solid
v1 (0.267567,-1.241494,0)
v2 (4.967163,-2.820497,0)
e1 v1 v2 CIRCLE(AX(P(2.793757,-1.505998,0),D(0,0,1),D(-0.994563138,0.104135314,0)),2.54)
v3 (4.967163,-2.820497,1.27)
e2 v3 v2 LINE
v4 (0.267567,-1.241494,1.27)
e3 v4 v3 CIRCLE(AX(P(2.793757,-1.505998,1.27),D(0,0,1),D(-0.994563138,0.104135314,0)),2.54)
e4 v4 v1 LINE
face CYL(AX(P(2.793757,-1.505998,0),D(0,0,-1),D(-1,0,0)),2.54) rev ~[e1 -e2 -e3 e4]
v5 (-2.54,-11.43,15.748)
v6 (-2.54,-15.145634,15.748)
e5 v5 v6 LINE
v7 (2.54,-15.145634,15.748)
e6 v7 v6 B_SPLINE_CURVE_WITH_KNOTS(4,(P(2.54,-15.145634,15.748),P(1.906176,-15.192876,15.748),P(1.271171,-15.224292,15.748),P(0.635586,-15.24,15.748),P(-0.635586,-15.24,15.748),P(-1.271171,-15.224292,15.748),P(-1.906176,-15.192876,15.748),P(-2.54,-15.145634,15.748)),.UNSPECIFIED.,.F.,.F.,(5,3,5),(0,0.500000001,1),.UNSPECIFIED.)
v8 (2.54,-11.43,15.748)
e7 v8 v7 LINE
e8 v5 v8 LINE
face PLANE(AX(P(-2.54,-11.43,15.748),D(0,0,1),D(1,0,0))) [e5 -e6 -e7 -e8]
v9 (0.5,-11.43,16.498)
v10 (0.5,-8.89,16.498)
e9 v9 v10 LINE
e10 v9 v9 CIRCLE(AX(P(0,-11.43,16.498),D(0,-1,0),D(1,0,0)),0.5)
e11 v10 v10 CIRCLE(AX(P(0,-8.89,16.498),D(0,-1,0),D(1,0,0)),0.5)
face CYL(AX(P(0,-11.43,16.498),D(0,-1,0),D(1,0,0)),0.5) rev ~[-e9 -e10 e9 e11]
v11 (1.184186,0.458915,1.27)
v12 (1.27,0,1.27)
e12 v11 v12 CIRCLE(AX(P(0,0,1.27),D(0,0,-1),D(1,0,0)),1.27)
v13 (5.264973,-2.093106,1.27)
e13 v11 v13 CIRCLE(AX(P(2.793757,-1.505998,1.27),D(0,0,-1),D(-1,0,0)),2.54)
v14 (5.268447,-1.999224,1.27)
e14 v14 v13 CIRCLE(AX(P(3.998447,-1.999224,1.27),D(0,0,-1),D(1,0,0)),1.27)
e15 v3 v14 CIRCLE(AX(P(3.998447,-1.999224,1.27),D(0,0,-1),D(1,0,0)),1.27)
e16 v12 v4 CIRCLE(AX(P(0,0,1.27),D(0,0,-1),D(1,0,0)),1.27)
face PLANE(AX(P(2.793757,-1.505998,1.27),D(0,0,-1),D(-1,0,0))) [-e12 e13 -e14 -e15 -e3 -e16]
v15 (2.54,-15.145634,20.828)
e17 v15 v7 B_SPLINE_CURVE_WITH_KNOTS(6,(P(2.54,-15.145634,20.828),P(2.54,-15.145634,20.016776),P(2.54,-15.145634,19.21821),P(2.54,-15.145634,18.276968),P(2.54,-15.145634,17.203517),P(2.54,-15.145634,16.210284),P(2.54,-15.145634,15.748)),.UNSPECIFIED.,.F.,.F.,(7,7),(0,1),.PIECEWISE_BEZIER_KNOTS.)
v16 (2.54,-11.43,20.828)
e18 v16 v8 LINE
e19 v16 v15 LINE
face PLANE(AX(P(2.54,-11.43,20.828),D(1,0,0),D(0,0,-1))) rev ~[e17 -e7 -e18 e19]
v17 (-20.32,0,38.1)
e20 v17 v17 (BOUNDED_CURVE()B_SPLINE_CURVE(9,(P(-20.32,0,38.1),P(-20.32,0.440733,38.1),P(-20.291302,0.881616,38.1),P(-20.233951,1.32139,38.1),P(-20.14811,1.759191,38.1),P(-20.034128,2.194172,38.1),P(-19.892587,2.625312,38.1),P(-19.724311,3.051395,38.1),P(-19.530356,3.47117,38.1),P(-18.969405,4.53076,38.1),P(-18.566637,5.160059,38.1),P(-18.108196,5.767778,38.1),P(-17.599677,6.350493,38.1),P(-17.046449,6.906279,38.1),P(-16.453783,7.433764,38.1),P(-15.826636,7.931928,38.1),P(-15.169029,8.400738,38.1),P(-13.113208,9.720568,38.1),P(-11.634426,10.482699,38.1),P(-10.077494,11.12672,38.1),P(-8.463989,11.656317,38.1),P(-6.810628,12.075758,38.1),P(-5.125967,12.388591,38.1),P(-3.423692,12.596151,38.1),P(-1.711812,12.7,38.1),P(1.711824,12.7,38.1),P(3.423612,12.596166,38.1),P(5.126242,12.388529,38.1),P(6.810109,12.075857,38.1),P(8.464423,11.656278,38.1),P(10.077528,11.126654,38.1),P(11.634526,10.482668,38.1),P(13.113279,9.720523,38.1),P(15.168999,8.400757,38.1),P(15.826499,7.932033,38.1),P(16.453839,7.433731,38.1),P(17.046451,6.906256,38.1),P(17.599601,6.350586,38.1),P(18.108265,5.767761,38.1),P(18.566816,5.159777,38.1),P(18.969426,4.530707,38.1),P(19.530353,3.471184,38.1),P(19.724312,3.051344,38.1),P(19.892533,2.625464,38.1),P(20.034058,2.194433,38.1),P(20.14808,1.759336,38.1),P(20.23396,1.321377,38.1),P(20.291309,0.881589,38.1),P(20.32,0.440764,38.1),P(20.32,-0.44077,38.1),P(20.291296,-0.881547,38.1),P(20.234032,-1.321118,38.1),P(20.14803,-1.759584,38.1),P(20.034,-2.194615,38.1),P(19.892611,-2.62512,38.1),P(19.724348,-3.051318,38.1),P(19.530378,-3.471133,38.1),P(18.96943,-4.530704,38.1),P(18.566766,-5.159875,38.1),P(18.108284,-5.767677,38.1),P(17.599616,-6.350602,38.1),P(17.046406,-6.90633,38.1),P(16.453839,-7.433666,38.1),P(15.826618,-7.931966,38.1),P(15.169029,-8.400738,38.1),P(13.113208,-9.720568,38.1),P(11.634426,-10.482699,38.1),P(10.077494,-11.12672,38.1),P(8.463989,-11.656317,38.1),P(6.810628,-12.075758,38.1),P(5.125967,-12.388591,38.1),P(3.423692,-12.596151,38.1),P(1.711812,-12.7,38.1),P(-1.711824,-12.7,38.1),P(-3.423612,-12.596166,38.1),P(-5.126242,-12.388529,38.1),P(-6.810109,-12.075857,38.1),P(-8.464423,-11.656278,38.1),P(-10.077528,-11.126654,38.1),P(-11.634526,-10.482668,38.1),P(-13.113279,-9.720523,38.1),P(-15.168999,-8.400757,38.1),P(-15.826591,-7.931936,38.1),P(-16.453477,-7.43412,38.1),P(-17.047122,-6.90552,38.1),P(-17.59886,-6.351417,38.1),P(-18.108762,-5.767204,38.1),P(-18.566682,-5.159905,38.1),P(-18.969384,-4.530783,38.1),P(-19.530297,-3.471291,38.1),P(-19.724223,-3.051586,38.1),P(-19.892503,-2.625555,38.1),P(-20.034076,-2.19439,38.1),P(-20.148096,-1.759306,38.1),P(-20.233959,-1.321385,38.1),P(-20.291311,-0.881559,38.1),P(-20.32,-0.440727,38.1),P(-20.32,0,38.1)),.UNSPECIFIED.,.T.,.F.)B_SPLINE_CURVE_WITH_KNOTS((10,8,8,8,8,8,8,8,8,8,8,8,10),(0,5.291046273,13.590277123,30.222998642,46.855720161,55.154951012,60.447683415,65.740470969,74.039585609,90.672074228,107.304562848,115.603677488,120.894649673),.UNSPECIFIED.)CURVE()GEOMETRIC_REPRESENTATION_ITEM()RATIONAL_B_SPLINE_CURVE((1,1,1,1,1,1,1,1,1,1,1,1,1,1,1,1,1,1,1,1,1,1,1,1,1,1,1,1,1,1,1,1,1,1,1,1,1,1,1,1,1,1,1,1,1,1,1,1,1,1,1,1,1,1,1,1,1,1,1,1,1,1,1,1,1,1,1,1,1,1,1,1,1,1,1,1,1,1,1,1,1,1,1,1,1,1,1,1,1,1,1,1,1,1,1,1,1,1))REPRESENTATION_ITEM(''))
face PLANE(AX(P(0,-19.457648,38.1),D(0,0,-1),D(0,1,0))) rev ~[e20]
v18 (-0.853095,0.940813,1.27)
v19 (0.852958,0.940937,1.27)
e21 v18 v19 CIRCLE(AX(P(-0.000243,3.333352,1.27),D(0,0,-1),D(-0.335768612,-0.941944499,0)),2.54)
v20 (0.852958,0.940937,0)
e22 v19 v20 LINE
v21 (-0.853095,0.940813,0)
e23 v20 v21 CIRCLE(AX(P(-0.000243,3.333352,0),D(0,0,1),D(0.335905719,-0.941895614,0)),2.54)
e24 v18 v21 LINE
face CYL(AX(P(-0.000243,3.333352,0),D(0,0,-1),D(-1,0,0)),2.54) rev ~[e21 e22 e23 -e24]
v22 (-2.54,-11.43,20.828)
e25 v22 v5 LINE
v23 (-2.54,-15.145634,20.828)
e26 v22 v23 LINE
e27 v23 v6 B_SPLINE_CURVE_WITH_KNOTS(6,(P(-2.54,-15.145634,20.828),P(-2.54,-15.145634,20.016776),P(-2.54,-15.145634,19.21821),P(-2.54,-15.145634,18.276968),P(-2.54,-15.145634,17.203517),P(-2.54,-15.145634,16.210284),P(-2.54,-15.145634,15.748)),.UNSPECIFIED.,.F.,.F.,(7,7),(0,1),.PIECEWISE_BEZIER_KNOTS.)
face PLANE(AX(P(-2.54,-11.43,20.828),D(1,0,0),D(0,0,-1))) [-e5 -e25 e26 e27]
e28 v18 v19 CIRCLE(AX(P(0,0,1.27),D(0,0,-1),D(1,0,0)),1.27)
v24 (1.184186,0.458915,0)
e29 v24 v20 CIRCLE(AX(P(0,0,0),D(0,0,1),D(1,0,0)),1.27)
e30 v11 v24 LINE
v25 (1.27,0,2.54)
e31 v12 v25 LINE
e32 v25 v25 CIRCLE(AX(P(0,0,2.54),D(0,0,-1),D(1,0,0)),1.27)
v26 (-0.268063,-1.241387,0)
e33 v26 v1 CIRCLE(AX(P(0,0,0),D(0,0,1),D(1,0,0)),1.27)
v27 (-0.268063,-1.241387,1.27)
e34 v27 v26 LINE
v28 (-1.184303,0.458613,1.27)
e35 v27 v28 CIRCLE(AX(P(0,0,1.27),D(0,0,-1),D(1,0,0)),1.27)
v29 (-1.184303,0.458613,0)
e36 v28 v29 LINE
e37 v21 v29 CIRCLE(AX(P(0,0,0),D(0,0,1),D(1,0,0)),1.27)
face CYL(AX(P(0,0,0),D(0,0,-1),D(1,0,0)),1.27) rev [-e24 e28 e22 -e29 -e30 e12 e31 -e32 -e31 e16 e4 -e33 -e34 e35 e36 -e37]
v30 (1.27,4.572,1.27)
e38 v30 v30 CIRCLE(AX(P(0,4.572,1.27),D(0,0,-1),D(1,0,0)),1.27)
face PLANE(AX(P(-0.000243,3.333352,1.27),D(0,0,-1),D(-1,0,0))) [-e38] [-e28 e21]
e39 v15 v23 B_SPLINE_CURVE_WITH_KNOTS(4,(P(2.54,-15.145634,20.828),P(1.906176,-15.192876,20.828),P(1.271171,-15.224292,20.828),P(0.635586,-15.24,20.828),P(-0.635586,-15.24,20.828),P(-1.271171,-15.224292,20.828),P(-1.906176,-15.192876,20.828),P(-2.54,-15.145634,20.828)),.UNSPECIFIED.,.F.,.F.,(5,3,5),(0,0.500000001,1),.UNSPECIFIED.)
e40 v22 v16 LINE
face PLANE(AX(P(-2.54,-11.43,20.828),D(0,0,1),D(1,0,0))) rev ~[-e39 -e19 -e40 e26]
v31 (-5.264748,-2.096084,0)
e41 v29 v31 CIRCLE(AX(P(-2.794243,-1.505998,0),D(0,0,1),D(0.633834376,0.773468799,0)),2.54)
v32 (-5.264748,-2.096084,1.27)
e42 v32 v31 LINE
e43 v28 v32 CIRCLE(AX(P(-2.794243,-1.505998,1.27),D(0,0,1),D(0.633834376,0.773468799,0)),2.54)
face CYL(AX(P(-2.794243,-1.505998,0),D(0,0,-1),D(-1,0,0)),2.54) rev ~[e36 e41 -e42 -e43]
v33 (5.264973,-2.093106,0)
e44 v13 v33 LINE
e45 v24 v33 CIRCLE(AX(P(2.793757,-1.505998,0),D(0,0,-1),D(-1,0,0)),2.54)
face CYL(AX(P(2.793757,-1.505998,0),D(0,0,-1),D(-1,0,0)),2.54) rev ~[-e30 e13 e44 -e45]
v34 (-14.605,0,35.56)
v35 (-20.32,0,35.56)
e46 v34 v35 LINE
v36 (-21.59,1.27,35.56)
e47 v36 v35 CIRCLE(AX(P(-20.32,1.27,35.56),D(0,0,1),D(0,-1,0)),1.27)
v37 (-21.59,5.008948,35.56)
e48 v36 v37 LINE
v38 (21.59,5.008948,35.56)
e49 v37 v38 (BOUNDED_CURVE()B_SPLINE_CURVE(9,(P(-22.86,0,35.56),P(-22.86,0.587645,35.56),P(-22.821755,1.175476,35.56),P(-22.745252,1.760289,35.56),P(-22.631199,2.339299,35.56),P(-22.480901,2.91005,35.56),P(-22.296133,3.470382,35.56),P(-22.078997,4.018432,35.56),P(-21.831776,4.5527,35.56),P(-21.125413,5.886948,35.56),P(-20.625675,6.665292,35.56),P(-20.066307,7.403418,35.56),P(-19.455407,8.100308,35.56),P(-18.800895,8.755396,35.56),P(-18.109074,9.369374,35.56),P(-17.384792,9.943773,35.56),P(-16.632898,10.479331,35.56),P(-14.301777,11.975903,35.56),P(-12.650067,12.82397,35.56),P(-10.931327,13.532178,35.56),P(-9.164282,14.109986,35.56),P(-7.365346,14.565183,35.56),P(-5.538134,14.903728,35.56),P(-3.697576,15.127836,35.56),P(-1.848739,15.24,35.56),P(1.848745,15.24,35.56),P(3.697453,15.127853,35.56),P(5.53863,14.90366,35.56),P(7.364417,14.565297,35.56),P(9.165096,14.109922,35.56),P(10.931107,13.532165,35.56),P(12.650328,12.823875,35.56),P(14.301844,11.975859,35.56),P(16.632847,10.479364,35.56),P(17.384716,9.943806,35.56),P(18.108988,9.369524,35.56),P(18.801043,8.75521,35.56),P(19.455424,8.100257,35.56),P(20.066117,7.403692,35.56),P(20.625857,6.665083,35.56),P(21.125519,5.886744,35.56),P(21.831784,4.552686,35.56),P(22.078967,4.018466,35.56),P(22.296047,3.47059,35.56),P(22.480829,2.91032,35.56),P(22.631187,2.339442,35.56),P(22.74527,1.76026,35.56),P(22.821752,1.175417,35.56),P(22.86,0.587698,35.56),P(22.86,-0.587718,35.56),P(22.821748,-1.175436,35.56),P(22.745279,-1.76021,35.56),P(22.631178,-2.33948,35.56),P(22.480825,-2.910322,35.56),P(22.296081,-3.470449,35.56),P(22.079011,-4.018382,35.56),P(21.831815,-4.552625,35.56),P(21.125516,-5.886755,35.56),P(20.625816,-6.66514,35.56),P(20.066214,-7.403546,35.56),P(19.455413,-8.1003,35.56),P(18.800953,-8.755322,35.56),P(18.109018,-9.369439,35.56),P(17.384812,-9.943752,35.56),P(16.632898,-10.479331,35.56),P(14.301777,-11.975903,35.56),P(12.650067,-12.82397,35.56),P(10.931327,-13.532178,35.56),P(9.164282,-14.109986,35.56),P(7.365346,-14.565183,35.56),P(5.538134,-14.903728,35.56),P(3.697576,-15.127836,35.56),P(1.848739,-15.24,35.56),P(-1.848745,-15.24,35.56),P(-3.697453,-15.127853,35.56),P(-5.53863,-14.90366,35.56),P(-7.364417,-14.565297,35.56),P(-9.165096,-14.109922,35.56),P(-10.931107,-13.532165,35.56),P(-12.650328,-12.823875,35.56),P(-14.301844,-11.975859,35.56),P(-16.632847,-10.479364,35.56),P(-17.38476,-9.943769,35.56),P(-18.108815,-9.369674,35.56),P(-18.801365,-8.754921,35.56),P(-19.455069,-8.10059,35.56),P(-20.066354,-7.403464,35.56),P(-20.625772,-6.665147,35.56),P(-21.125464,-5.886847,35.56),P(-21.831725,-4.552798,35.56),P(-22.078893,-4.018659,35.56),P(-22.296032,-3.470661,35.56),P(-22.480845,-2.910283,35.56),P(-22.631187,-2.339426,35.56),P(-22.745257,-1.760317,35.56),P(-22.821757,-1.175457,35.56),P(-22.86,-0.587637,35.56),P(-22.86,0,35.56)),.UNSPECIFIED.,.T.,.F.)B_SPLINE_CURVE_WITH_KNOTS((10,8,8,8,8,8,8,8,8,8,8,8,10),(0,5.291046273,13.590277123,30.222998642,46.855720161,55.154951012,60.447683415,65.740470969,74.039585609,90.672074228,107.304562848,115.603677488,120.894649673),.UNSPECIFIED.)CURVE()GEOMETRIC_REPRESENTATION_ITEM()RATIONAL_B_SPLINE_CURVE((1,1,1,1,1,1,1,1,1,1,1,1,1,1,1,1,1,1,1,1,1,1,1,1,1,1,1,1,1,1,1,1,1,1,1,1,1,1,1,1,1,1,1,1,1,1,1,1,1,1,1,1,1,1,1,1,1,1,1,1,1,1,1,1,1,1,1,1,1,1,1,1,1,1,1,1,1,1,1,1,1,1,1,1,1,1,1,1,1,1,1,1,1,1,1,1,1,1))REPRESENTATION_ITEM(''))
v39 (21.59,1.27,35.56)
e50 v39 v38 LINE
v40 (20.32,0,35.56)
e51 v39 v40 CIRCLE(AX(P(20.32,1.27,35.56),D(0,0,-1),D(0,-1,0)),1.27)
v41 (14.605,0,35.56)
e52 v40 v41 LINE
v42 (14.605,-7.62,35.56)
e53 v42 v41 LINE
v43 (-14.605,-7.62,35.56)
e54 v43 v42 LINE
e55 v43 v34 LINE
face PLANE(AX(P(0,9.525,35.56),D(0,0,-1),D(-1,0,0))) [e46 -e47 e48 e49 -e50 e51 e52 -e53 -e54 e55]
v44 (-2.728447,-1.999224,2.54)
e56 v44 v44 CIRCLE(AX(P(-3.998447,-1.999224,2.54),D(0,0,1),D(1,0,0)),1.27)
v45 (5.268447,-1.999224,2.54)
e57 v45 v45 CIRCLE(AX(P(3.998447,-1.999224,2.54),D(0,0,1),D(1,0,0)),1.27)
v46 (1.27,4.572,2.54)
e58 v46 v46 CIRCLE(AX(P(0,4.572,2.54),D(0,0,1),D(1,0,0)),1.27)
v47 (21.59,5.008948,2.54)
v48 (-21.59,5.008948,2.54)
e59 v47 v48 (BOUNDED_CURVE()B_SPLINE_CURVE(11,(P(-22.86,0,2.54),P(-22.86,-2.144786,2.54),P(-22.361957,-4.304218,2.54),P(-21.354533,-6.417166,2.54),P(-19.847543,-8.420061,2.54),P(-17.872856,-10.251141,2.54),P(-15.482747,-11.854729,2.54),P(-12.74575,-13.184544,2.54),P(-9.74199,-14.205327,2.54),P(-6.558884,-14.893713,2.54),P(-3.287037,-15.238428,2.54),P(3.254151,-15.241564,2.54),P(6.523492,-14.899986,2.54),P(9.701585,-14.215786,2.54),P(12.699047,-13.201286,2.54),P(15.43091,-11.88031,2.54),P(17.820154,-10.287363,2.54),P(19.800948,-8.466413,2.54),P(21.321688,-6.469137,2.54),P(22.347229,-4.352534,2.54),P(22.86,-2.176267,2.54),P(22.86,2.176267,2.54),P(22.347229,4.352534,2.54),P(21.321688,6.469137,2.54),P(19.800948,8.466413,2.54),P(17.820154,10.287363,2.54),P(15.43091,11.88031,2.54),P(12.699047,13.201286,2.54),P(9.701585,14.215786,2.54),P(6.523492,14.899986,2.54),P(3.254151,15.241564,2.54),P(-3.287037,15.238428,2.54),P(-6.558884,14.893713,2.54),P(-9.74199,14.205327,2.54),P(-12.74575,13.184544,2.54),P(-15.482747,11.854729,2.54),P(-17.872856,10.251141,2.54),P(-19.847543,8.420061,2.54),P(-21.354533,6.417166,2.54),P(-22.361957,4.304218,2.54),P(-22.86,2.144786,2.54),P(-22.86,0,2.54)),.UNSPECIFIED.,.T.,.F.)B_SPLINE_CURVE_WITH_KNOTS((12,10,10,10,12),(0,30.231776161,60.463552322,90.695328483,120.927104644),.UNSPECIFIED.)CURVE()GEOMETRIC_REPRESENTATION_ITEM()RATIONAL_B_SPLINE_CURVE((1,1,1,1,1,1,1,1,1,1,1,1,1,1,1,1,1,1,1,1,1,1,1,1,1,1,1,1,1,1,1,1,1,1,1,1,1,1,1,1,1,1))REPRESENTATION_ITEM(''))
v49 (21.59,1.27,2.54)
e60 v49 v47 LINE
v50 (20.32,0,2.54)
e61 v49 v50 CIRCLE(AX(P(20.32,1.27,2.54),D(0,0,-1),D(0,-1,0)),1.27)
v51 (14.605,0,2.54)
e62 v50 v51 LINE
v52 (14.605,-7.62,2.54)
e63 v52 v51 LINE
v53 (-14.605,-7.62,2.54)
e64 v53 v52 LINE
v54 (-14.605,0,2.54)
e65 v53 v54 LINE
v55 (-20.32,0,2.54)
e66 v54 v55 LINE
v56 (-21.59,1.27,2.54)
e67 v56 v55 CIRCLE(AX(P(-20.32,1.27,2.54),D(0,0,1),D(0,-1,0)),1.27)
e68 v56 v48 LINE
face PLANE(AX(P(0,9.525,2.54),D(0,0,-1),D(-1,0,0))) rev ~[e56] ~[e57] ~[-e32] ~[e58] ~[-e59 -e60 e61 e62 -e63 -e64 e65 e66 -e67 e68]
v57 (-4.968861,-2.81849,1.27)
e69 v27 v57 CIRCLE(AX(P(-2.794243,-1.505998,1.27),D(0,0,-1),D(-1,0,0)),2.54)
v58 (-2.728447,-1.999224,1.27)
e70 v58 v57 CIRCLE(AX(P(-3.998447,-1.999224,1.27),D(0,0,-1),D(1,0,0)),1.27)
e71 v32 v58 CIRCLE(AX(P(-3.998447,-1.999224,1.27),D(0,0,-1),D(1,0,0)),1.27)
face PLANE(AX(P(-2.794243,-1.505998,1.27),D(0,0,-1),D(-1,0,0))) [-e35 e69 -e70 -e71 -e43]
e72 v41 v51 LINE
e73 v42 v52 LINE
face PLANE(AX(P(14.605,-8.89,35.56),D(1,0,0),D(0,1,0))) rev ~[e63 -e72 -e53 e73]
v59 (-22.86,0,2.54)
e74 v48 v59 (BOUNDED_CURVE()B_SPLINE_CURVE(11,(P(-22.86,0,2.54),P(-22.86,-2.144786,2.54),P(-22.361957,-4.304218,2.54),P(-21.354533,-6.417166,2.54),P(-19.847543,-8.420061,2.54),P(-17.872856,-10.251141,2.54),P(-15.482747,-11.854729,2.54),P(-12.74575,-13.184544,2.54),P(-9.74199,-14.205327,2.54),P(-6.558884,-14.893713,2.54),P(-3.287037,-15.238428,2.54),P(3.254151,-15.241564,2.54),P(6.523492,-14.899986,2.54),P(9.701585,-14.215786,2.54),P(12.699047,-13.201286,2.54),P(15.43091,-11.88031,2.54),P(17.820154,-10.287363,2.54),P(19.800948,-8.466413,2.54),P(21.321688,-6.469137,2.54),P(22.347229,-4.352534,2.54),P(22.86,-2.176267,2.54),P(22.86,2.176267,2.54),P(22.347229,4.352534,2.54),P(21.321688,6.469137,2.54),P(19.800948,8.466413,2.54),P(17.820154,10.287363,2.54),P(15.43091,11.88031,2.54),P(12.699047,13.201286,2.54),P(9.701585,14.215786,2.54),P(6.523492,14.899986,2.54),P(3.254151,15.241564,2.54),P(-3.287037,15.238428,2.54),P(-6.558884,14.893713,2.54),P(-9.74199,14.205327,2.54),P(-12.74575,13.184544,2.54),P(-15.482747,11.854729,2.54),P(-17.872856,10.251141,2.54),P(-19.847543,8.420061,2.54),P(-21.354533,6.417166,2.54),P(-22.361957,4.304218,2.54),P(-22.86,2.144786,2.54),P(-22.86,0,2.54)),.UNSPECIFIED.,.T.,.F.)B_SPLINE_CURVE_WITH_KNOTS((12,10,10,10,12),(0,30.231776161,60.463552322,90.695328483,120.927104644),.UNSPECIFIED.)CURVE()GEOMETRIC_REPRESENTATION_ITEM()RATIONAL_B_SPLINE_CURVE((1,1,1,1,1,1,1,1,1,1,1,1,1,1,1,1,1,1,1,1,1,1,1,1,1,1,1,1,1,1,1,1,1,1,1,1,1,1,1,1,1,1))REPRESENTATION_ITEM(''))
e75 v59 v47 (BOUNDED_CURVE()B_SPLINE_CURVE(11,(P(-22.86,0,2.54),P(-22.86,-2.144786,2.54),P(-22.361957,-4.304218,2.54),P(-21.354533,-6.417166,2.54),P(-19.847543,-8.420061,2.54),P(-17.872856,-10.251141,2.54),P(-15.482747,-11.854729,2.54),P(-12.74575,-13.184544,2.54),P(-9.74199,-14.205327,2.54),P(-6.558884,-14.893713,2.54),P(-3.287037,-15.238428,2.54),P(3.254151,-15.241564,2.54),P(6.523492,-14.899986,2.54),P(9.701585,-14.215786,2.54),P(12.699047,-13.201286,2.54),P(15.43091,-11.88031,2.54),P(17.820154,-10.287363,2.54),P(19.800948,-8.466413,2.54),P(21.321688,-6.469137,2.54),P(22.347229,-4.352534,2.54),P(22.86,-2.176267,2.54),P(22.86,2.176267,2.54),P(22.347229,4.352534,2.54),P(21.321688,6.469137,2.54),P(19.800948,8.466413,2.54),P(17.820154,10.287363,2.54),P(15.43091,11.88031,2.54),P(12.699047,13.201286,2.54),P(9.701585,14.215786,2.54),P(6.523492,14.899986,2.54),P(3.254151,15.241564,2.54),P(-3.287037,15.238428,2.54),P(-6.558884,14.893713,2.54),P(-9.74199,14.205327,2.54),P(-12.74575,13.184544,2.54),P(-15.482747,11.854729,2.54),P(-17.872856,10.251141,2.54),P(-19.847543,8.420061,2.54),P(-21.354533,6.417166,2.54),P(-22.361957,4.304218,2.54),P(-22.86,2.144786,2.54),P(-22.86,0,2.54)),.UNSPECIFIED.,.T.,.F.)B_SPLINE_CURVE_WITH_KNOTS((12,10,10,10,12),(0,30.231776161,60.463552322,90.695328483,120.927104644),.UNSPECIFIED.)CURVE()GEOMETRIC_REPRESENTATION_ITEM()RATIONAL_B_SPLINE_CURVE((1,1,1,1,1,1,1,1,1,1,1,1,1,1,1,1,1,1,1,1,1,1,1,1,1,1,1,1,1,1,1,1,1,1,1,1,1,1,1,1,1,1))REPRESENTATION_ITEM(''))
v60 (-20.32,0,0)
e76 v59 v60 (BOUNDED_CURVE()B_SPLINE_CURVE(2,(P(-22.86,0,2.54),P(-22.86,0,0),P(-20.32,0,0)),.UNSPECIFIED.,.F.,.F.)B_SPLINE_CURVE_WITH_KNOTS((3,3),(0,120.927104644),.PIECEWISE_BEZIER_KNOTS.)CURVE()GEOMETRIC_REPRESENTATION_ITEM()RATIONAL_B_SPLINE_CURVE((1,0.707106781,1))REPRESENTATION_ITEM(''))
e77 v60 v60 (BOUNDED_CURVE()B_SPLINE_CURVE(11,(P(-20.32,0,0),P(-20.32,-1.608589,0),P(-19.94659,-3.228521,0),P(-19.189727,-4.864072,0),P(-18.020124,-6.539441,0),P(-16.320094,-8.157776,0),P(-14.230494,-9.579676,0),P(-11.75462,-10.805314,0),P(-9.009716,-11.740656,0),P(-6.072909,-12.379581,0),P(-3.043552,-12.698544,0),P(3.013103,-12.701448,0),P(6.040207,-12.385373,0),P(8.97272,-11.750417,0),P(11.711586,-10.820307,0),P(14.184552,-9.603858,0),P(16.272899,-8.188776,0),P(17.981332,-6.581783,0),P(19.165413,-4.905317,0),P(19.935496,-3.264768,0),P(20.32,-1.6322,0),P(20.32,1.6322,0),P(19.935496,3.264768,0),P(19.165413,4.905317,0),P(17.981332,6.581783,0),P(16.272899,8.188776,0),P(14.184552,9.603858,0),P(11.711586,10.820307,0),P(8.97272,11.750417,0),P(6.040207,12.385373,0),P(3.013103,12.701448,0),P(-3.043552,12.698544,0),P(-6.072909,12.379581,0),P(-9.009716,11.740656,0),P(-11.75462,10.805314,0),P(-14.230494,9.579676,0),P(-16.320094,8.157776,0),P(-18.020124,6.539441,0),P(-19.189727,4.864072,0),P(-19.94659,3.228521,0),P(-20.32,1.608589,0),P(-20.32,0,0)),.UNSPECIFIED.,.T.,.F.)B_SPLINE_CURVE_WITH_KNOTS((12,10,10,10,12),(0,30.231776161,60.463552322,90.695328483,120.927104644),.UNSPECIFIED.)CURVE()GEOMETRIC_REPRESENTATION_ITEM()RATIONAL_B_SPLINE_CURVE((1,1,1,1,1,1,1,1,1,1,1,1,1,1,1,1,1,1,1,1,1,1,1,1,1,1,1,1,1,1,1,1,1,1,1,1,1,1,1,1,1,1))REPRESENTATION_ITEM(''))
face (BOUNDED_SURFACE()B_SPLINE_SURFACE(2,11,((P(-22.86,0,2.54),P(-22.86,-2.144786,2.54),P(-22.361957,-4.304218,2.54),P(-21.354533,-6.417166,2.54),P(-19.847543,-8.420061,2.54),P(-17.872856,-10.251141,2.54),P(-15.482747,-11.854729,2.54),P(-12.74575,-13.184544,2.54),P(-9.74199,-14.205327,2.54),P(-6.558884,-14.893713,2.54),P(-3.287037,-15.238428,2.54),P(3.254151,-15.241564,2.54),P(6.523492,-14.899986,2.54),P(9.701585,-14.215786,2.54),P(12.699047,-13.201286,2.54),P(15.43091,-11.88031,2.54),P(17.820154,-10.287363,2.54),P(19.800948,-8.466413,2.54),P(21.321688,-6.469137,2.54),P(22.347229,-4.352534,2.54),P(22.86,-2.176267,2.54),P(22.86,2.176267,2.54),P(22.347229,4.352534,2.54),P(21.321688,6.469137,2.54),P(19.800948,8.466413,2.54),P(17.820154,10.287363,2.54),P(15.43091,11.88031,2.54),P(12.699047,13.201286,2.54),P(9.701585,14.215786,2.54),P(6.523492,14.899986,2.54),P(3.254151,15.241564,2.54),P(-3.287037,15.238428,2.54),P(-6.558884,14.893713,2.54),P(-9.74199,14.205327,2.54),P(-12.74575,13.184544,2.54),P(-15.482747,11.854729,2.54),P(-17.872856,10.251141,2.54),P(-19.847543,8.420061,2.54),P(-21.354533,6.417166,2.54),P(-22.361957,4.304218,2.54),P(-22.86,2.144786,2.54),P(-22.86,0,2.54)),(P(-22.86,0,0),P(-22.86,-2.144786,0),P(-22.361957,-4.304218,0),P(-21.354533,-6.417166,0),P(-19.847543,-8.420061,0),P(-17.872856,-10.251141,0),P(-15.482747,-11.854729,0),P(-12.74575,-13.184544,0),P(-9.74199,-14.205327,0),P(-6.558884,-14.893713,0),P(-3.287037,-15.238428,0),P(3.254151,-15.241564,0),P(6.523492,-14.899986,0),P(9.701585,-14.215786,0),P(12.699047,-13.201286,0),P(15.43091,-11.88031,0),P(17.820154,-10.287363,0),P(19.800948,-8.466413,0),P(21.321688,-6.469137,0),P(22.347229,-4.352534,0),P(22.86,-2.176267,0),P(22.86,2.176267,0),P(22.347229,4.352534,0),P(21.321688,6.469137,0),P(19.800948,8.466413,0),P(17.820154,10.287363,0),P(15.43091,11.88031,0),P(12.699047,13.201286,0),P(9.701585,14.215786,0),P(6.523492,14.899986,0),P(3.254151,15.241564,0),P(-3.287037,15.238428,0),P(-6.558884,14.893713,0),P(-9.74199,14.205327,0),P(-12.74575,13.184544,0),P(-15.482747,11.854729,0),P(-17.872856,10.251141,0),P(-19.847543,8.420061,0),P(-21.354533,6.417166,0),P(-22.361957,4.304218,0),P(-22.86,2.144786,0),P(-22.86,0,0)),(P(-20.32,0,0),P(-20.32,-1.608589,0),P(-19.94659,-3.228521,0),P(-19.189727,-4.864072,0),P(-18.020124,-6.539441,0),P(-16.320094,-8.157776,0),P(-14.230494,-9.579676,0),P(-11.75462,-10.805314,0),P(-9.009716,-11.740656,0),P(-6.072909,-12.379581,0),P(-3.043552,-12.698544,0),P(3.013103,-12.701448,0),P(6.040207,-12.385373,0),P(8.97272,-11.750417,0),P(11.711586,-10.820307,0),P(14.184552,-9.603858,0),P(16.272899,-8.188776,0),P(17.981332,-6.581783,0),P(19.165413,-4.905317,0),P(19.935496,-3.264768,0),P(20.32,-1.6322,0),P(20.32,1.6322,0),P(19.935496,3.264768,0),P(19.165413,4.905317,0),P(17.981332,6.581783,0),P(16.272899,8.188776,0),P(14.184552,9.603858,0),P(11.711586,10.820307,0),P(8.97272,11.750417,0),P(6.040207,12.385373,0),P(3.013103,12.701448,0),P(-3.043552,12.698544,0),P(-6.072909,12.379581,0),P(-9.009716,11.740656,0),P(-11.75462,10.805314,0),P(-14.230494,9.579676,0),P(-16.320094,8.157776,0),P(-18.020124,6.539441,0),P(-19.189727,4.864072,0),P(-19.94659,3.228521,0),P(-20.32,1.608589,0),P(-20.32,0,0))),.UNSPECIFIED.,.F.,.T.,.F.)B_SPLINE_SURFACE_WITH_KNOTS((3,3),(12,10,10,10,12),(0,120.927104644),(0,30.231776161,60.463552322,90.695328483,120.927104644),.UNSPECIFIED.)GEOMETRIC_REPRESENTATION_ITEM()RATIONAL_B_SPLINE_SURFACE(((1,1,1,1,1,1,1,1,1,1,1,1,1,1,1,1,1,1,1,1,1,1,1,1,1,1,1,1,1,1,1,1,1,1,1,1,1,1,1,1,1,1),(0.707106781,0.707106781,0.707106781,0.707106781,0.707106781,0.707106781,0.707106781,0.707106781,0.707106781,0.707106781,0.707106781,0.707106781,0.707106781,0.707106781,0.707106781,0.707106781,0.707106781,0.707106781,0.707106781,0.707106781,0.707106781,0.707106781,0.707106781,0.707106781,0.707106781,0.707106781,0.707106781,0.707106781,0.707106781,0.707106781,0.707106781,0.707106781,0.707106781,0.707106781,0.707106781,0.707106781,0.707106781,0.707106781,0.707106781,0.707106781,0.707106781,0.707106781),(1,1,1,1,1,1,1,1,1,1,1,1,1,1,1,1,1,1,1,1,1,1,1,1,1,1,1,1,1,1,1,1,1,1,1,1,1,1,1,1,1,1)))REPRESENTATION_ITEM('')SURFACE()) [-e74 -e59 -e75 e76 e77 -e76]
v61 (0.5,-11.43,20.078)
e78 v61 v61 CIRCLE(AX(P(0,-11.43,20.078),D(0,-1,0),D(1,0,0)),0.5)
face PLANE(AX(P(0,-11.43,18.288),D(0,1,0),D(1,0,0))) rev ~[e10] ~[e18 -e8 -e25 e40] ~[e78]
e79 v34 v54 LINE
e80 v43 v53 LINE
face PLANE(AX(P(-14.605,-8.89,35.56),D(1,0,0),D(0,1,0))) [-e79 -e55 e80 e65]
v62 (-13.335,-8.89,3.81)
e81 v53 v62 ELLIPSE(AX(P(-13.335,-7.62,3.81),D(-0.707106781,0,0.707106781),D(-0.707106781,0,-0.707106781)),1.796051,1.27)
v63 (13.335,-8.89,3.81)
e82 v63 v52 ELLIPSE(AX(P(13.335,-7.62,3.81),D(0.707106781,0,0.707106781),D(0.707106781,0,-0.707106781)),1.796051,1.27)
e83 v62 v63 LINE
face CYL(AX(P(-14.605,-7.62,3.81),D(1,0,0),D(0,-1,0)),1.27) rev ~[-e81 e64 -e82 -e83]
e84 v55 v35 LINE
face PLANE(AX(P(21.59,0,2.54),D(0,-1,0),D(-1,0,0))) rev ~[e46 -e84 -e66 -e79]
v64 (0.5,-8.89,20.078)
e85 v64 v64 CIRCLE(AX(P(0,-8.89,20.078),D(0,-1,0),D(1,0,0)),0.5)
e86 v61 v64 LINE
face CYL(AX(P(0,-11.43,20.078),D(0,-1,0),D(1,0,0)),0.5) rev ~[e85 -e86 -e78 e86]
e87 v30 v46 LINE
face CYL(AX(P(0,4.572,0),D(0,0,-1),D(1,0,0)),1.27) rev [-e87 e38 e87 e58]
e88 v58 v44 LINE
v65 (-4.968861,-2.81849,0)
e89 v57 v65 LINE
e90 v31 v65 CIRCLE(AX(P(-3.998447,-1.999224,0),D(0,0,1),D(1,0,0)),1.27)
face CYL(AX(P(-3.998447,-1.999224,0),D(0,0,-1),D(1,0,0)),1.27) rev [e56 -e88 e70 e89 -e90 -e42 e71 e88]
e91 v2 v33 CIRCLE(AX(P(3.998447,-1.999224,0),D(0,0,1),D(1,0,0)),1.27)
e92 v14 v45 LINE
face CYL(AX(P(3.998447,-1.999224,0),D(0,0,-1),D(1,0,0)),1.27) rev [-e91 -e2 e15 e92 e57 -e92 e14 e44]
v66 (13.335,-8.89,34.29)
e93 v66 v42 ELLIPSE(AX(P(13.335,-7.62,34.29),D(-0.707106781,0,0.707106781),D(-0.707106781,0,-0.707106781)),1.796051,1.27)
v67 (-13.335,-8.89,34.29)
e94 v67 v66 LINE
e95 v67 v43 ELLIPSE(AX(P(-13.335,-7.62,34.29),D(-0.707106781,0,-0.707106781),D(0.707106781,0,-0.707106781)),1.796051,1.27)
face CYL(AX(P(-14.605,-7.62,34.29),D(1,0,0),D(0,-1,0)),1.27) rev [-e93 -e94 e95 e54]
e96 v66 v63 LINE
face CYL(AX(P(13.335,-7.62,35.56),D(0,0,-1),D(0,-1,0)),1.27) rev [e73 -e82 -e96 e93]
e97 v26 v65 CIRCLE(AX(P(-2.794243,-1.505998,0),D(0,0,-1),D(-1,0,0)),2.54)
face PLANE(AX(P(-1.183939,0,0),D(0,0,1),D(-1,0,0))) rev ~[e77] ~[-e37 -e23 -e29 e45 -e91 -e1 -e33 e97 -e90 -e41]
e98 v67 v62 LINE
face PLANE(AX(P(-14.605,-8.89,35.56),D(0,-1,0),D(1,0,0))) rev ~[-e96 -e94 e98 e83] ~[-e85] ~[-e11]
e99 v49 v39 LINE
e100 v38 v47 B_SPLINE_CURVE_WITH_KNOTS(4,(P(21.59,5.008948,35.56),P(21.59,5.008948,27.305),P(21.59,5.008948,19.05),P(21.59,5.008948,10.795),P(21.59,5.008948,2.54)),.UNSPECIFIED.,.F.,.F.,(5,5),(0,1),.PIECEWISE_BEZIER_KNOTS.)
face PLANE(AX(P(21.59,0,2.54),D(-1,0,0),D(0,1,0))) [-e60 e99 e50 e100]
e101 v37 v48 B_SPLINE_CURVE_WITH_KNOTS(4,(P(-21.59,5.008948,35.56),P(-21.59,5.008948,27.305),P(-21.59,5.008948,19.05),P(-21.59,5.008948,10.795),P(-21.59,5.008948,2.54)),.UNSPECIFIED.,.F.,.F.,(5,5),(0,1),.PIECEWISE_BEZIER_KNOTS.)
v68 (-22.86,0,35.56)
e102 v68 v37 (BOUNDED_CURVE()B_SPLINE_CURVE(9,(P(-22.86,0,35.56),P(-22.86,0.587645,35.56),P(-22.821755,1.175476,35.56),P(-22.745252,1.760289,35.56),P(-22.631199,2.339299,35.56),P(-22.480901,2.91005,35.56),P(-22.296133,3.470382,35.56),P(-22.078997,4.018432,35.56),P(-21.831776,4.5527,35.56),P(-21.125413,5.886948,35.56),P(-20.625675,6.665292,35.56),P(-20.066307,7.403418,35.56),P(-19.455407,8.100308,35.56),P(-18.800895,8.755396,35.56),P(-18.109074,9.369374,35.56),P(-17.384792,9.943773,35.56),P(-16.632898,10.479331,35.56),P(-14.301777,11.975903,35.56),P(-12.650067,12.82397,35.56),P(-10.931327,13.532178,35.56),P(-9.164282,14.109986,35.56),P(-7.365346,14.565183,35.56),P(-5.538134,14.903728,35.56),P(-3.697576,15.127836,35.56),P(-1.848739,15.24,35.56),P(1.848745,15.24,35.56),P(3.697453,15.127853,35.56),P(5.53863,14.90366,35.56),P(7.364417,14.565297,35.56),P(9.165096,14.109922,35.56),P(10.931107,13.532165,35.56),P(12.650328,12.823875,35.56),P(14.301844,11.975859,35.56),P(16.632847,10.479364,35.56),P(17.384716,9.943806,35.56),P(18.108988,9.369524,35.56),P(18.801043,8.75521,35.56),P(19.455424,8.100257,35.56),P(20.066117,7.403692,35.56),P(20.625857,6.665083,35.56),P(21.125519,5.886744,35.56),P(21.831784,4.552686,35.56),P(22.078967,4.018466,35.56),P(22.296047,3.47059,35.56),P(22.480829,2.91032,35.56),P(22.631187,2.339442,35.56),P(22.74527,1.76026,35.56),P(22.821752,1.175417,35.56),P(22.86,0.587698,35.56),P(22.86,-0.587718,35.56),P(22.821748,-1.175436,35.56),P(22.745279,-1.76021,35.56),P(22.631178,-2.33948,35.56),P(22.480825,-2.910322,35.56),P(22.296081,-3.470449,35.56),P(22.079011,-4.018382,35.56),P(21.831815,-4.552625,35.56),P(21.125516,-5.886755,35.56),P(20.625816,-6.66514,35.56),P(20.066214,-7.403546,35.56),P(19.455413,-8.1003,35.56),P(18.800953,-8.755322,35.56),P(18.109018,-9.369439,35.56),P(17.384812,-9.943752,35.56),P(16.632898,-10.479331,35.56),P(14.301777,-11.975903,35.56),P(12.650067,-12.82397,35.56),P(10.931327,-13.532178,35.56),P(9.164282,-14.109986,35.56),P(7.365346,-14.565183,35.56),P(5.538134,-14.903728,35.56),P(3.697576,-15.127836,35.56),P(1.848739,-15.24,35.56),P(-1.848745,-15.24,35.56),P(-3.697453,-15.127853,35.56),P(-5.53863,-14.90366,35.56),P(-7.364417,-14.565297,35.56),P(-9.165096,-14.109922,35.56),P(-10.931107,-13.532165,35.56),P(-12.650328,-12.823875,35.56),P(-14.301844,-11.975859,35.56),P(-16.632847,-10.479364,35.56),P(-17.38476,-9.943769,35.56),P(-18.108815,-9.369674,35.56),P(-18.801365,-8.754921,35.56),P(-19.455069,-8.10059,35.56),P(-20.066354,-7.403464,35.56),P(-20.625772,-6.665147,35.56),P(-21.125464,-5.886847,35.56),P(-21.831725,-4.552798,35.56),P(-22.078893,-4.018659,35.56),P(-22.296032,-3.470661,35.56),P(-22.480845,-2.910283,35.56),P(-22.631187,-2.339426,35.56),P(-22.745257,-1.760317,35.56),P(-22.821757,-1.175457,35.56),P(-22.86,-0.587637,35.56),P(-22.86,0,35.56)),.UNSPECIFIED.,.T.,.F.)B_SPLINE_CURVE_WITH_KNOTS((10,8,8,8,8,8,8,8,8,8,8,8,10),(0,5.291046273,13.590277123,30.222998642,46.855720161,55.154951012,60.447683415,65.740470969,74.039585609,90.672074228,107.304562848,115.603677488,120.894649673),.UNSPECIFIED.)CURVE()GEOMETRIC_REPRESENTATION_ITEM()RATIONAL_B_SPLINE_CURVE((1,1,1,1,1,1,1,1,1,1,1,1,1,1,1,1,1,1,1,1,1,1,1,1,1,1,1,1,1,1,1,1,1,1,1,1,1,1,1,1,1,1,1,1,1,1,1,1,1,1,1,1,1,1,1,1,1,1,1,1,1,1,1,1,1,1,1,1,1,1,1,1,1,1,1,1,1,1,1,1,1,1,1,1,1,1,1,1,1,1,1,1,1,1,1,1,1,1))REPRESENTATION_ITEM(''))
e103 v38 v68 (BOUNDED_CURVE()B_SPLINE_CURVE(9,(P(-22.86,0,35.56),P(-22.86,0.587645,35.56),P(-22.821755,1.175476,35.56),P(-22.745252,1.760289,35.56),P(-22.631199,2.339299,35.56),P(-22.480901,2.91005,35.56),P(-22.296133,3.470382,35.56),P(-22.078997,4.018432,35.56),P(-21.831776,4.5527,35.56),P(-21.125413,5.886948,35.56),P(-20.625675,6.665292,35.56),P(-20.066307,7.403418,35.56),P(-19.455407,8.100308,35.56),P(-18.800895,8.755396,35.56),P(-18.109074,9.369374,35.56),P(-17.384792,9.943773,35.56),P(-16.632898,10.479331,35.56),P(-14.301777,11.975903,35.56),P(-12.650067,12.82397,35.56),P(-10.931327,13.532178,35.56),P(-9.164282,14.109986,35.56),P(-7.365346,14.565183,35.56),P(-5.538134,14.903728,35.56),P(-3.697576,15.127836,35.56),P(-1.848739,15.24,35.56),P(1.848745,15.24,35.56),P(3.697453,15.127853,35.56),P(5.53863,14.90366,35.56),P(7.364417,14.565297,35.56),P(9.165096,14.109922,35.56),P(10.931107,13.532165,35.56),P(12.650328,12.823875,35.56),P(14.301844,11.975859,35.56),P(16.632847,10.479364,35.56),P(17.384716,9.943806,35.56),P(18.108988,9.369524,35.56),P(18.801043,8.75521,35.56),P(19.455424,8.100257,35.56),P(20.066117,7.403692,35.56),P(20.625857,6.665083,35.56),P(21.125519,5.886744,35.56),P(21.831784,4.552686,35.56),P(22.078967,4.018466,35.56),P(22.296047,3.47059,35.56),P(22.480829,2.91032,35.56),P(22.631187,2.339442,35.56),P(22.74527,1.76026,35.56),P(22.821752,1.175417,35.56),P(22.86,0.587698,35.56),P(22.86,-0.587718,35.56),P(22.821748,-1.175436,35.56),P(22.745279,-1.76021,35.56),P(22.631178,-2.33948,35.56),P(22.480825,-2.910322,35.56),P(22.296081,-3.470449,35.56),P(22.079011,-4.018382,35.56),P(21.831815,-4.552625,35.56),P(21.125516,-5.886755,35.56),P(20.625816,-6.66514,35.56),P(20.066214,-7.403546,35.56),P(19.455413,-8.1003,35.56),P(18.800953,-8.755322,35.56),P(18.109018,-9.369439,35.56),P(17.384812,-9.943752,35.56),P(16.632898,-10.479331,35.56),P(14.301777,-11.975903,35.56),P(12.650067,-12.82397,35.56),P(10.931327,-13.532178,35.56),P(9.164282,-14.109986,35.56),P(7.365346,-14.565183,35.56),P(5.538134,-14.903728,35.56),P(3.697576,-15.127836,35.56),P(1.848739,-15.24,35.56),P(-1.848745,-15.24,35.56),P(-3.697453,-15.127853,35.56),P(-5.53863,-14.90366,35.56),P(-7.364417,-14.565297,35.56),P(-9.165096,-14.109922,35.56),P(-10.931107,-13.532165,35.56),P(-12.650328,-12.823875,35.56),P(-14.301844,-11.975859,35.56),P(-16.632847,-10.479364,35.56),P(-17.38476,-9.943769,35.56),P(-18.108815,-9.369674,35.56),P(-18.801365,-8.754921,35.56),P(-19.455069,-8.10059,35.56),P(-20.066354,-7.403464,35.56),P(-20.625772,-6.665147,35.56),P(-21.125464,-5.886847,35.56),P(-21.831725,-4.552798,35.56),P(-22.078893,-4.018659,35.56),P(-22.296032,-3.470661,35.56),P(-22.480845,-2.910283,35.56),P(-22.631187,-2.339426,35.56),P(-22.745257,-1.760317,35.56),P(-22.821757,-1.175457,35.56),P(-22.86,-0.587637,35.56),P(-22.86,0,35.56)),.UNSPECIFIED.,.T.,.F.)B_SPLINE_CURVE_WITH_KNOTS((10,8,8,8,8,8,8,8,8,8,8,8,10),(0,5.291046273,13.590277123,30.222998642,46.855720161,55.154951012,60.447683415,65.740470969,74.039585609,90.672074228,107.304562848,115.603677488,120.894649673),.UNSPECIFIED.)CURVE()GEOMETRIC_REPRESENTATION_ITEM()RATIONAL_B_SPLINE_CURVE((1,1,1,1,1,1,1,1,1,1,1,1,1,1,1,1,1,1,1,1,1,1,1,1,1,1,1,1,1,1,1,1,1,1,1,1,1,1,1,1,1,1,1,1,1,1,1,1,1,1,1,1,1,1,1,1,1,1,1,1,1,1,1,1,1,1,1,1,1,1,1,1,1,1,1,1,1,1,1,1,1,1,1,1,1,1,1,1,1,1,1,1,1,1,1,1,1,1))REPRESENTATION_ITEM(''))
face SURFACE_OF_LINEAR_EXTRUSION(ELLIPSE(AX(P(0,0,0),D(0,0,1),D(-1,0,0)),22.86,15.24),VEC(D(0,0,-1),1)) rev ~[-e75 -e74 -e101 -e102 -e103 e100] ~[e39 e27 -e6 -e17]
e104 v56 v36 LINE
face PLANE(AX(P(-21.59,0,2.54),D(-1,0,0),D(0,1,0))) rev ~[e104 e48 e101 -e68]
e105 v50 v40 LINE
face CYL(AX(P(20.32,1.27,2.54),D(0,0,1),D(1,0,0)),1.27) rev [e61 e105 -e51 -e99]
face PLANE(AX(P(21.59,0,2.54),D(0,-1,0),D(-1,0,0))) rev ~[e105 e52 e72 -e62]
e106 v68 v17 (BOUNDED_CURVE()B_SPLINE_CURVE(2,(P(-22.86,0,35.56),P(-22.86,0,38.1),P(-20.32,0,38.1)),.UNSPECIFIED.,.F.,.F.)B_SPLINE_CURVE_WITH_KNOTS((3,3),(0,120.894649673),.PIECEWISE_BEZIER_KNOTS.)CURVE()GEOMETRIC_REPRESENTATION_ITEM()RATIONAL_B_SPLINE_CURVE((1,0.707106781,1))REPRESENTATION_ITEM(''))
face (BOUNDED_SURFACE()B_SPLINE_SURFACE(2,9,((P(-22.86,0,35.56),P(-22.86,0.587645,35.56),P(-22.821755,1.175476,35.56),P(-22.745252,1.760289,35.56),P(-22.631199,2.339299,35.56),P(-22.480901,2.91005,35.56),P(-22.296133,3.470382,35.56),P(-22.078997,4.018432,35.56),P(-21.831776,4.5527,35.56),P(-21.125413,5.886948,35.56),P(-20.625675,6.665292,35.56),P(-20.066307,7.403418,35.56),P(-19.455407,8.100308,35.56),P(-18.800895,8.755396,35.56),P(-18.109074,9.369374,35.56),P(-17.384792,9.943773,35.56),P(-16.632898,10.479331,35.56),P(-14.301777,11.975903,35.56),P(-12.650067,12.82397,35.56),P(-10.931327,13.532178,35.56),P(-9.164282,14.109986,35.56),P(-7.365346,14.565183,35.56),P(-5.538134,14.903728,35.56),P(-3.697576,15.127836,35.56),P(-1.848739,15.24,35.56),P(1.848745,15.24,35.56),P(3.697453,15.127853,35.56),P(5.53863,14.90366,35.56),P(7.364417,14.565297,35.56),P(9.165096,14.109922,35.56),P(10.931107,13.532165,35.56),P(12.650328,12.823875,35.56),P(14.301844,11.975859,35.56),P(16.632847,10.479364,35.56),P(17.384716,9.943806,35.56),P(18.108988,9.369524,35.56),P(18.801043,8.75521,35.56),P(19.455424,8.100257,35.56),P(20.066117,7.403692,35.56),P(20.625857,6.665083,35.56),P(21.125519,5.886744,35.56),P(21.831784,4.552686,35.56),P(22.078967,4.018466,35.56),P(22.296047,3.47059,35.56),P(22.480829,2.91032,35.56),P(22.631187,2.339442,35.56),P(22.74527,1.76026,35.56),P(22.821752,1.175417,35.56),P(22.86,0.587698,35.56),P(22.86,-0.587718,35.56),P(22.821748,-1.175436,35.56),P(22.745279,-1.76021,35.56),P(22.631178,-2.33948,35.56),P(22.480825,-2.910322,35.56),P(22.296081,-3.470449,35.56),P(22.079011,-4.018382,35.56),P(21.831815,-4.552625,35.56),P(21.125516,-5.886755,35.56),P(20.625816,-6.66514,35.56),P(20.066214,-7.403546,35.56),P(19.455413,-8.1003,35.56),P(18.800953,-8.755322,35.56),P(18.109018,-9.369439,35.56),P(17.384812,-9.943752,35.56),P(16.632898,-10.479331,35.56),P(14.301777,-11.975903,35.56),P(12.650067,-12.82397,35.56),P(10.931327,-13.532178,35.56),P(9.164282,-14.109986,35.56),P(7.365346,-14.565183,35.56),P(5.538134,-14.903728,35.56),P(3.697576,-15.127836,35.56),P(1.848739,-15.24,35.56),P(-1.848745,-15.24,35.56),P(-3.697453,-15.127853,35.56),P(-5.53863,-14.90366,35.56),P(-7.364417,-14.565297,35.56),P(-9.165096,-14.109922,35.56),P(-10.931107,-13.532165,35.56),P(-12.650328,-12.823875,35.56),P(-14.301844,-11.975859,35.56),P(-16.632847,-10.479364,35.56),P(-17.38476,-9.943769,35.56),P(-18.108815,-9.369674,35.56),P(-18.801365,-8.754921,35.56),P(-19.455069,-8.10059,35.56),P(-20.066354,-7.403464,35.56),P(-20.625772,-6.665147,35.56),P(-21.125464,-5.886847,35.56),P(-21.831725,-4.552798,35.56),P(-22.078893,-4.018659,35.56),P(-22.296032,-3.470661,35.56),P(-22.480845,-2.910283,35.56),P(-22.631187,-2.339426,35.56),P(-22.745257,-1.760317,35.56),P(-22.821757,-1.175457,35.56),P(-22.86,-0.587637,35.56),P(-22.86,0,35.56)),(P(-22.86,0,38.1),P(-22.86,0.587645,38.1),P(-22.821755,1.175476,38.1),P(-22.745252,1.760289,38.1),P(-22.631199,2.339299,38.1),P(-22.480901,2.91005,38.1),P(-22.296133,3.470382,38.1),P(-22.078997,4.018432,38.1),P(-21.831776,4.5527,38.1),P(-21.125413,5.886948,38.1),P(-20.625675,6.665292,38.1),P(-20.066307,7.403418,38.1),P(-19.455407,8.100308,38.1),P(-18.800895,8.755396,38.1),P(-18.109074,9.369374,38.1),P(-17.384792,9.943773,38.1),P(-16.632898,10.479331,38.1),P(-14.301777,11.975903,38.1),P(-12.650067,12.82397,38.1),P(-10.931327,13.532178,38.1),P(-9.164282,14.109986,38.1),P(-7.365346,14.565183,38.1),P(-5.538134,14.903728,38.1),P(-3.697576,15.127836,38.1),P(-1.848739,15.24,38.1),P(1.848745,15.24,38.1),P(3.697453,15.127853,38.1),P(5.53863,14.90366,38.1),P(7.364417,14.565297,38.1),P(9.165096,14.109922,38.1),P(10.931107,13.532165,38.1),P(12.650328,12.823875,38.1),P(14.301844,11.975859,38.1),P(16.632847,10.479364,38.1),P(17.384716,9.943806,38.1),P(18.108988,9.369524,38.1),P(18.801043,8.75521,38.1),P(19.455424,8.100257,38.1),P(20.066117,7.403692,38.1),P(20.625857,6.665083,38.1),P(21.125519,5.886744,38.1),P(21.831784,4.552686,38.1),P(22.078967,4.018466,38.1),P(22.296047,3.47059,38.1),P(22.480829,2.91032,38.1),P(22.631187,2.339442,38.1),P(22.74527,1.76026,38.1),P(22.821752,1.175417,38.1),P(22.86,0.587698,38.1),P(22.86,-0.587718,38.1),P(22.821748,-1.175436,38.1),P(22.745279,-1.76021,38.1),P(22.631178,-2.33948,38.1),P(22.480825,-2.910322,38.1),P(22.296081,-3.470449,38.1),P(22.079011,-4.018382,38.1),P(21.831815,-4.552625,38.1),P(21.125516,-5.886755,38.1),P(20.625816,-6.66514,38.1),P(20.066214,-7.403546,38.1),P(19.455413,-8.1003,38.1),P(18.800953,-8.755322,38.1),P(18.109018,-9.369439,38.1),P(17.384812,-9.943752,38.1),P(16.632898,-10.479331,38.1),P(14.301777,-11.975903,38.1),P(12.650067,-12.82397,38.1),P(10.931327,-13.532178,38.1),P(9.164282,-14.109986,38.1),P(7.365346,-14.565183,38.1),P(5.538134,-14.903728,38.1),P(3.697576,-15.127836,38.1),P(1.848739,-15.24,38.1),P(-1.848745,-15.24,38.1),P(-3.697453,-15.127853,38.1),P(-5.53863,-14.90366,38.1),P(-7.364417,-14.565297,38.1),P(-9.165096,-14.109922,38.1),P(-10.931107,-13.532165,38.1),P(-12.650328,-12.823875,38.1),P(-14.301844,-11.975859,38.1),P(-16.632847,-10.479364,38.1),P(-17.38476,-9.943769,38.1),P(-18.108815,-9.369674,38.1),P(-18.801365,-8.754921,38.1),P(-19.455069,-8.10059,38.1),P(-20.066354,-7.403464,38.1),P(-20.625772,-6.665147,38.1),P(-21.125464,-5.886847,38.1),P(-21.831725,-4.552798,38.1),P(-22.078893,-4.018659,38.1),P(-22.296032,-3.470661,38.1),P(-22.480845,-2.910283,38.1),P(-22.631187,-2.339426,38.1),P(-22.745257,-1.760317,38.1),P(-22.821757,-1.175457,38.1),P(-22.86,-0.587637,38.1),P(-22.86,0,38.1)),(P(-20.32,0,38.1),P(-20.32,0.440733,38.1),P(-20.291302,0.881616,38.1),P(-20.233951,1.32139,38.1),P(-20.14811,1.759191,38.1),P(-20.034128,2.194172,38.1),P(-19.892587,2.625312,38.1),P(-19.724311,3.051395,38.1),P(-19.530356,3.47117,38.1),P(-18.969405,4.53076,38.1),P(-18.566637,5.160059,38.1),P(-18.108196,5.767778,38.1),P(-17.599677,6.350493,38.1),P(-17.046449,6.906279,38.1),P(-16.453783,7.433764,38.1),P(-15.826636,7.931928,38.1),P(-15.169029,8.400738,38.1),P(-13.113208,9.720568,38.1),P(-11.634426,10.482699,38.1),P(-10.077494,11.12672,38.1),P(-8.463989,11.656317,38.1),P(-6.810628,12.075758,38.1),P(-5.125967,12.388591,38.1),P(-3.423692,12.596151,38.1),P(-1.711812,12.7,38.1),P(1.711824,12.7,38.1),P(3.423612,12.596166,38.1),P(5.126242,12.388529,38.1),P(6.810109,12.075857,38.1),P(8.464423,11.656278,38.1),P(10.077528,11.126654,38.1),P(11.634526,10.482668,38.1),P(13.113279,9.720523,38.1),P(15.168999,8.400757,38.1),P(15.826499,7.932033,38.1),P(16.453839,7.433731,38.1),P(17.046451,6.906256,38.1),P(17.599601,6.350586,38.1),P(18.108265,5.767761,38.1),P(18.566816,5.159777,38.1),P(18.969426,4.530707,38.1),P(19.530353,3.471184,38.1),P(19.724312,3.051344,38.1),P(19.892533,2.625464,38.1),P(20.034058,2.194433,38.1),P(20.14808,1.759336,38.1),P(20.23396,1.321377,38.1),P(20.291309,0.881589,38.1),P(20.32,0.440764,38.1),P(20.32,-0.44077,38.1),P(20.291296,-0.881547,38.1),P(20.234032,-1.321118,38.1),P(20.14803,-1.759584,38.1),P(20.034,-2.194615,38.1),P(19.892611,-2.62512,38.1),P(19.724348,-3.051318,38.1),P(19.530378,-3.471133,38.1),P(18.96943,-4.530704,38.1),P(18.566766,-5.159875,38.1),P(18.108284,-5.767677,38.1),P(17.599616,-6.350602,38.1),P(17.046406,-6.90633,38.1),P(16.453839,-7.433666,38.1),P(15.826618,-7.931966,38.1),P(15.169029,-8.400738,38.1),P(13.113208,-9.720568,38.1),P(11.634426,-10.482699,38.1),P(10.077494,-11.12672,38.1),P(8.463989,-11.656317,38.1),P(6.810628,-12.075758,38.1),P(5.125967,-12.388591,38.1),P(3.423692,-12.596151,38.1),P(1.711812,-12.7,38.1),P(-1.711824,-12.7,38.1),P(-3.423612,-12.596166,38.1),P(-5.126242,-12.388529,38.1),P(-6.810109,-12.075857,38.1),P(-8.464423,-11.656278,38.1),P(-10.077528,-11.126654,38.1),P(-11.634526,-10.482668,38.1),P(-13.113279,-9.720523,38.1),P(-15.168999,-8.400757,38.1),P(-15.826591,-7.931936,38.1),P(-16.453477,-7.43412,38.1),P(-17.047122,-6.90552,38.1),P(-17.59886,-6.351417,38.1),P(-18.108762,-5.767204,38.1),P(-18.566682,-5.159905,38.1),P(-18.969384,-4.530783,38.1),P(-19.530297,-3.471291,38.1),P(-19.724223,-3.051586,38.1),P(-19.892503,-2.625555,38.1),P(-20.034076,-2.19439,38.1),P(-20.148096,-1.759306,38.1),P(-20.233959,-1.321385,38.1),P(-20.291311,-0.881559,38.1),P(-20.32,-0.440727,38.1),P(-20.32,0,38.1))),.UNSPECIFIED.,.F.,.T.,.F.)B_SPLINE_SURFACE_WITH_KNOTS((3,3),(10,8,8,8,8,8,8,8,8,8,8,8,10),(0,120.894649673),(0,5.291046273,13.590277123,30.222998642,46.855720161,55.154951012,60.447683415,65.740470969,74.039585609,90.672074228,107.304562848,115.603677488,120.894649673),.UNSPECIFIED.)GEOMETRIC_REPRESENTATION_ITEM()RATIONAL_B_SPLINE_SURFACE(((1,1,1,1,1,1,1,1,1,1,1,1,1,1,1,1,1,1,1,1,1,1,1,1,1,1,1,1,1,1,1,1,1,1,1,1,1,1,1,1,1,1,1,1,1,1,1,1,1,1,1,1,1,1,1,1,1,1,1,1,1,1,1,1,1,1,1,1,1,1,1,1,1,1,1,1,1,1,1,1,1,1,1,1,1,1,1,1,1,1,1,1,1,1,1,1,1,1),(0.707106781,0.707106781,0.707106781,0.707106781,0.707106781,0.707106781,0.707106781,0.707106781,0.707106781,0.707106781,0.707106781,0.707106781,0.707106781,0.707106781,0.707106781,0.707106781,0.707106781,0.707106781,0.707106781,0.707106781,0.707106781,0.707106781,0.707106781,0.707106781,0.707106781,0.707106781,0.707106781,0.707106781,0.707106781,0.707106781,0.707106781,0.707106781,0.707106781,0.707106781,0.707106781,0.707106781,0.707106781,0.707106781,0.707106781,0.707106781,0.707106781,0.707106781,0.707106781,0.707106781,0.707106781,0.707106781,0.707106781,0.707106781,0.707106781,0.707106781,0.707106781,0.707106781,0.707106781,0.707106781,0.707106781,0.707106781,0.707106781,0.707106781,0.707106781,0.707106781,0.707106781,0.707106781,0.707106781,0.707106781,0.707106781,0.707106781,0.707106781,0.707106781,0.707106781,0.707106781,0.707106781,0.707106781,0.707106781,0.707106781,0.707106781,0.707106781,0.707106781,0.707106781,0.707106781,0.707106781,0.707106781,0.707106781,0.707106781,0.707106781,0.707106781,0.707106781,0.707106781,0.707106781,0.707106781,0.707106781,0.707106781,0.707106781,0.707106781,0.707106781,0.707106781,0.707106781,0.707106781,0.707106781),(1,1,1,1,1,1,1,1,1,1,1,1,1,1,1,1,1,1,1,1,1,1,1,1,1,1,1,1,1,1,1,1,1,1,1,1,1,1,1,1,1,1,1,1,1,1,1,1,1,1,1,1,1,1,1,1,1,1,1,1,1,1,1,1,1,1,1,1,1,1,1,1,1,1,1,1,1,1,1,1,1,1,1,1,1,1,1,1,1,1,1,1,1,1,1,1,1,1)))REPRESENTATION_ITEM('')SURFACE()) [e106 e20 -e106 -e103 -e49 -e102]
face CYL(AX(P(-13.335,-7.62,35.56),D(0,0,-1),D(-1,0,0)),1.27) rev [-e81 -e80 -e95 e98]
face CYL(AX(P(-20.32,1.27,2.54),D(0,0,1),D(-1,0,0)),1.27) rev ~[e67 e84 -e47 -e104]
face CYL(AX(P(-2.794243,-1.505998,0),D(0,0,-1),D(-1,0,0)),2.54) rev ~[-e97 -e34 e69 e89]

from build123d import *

# Parameters (mm, degrees)
SKETCH1_RX               = 22.86
SKETCH1_RY               = 15.24
BOSS_EXTRUDE4_DEPTH      = 45.72
CUT_EXTRUDE2_START       = -10.16
SKETCH4_W                = 29.21
SKETCH4_H                = 17.78
CUT_EXTRUDE2_DEPTH       = 33.02
SKETCH7_W                = 14.643913221
SKETCH7_H                = 35.56
CUT_EXTRUDE4_DEPTH       = 33.02
CUT_EXTRUDE4_DEPTH_BACK  = 33.02
SKETCH8_R                = 1.27
CUT_EXTRUDE5_DEPTH       = 2.54
FILLET1_R                = 2.54
FILLET2_R                = 2.54
CUT_EXTRUDE11_START      = -2.54
SKETCH12_W               = 43.18
SKETCH12_H               = 19.05
CUT_EXTRUDE11_DEPTH      = 33.02
FILLET3_R                = 1.27
CUT_EXTRUDE13_START      = -2.54
SKETCH13_W               = 5.08
SKETCH13_H               = 5.08
CUT_EXTRUDE13_DEPTH      = 4.8100001
SKETCH14_R               = 0.5
CUT_EXTRUDE14_DEPTH      = 4.8100001
CUT_EXTRUDE14_DEPTH_BACK = 27.6700001
SKETCH16_R               = 2.54
CUT_EXTRUDE15_DEPTH      = 1.27
FILLET4_R                = 1.27


with BuildPart() as part:
    # Sketch1 → Boss-Extrude4 (new body)
    with BuildSketch(Plane.XY):
        with Locations(Location((0, 0), (0, 0, 180))):
            Ellipse(SKETCH1_RX, SKETCH1_RY)
    extrude(amount=BOSS_EXTRUDE4_DEPTH)

    # Sketch4 → Cut-Extrude2 (cut)
    with BuildSketch(Plane.XY.offset(45.72).offset(CUT_EXTRUDE2_START)):
        Rectangle(SKETCH4_W, SKETCH4_H)
    extrude(amount=-CUT_EXTRUDE2_DEPTH, mode=Mode.SUBTRACT)

    # Sketch7 → Cut-Extrude4 (cut, two sides)
    with BuildSketch(Plane(origin=(0, 0, 0), x_dir=(0, 0, -1), z_dir=(1, 0, 0))) as cut_extrude4_sk:
        with Locations((-45.421956611, -1.677648267)):
            Rectangle(SKETCH7_W, SKETCH7_H)
    extrude(amount=CUT_EXTRUDE4_DEPTH, mode=Mode.SUBTRACT)
    extrude(cut_extrude4_sk.sketch, amount=-CUT_EXTRUDE4_DEPTH_BACK, mode=Mode.SUBTRACT)

    # Sketch8 → Cut-Extrude5 (cut)
    with BuildSketch(Plane.XY):
        Circle(SKETCH8_R)
        with Locations((3.998447315, -1.999223657)):
            Circle(SKETCH8_R)
        with Locations((-3.998447315, -1.999223657)):
            Circle(SKETCH8_R)
        with Locations((0, 4.572)):
            Circle(SKETCH8_R)
    extrude(amount=CUT_EXTRUDE5_DEPTH, mode=Mode.SUBTRACT)

    # Fillet1
    fillet1_edges = [part.edges().sort_by_distance(p)[0] for p in [
        (22.859987041, 0.016227247, 0),
    ]]
    fillet(fillet1_edges, radius=FILLET1_R)

    # Fillet2
    fillet2_edges = [part.edges().sort_by_distance(p)[0] for p in [
        (22.860000074, 1.7e-08, 38.1),
    ]]
    fillet(fillet2_edges, radius=FILLET2_R)

    # Sketch12 → Cut-Extrude11 (cut)
    with BuildSketch(Plane(origin=(0, 0, 0), x_dir=(-1, 0, 0), z_dir=(0, 0, -1)).offset(CUT_EXTRUDE11_START)):
        with Locations((0, 9.525)):
            Rectangle(SKETCH12_W, SKETCH12_H)
    extrude(amount=-CUT_EXTRUDE11_DEPTH, mode=Mode.SUBTRACT)

    # Fillet3
    fillet3_edges = [part.edges().sort_by_distance(p)[0] for p in [
        (14.605, -8.89, 19.05),
        (0, -8.89, 35.56),
        (-14.605, -8.89, 19.05),
        (0, -8.89, 2.54),
    ]]
    fillet(fillet3_edges, radius=FILLET3_R)

    # Sketch13 → Cut-Extrude13 (cut, through all)
    with BuildSketch(Plane(origin=(0, -8.89, 0), x_dir=(1, 0, 0), z_dir=(0, 1, 0)).offset(CUT_EXTRUDE13_START)):
        with Locations((0, -18.288)):
            Rectangle(SKETCH13_W, SKETCH13_H)
    extrude(amount=-CUT_EXTRUDE13_DEPTH, mode=Mode.SUBTRACT)

    # Sketch14 → Cut-Extrude14 (cut, two sides)
    with BuildSketch(Plane.XZ.offset(11.43)) as cut_extrude14_sk:
        with Locations((0, 20.077999976)):
            Circle(SKETCH14_R)
        with Locations((0, 16.498)):
            Circle(SKETCH14_R)
    extrude(amount=CUT_EXTRUDE14_DEPTH, mode=Mode.SUBTRACT)
    extrude(cut_extrude14_sk.sketch, amount=-CUT_EXTRUDE14_DEPTH_BACK, mode=Mode.SUBTRACT)

    # Sketch16 → Cut-Extrude15 (cut)
    with BuildSketch(Plane(origin=(0, 0, 0), x_dir=(-1, 0, 0), z_dir=(0, 0, -1))):
        with Locations((2.7942426, -1.505997915)):
            Circle(SKETCH16_R)
        with Locations((0.000242604, 3.333352043)):
            Circle(SKETCH16_R)
        with Locations((-2.793757393, -1.505997915)):
            Circle(SKETCH16_R)
    extrude(amount=-CUT_EXTRUDE15_DEPTH, mode=Mode.SUBTRACT)

    # Fillet4
    fillet4_edges = [part.edges().sort_by_distance(p)[0] for p in [
        (-21.59, 0, 19.05),
        (21.59, 0, 19.05),
    ]]
    fillet(fillet4_edges, radius=FILLET4_R)


solid = part.part
